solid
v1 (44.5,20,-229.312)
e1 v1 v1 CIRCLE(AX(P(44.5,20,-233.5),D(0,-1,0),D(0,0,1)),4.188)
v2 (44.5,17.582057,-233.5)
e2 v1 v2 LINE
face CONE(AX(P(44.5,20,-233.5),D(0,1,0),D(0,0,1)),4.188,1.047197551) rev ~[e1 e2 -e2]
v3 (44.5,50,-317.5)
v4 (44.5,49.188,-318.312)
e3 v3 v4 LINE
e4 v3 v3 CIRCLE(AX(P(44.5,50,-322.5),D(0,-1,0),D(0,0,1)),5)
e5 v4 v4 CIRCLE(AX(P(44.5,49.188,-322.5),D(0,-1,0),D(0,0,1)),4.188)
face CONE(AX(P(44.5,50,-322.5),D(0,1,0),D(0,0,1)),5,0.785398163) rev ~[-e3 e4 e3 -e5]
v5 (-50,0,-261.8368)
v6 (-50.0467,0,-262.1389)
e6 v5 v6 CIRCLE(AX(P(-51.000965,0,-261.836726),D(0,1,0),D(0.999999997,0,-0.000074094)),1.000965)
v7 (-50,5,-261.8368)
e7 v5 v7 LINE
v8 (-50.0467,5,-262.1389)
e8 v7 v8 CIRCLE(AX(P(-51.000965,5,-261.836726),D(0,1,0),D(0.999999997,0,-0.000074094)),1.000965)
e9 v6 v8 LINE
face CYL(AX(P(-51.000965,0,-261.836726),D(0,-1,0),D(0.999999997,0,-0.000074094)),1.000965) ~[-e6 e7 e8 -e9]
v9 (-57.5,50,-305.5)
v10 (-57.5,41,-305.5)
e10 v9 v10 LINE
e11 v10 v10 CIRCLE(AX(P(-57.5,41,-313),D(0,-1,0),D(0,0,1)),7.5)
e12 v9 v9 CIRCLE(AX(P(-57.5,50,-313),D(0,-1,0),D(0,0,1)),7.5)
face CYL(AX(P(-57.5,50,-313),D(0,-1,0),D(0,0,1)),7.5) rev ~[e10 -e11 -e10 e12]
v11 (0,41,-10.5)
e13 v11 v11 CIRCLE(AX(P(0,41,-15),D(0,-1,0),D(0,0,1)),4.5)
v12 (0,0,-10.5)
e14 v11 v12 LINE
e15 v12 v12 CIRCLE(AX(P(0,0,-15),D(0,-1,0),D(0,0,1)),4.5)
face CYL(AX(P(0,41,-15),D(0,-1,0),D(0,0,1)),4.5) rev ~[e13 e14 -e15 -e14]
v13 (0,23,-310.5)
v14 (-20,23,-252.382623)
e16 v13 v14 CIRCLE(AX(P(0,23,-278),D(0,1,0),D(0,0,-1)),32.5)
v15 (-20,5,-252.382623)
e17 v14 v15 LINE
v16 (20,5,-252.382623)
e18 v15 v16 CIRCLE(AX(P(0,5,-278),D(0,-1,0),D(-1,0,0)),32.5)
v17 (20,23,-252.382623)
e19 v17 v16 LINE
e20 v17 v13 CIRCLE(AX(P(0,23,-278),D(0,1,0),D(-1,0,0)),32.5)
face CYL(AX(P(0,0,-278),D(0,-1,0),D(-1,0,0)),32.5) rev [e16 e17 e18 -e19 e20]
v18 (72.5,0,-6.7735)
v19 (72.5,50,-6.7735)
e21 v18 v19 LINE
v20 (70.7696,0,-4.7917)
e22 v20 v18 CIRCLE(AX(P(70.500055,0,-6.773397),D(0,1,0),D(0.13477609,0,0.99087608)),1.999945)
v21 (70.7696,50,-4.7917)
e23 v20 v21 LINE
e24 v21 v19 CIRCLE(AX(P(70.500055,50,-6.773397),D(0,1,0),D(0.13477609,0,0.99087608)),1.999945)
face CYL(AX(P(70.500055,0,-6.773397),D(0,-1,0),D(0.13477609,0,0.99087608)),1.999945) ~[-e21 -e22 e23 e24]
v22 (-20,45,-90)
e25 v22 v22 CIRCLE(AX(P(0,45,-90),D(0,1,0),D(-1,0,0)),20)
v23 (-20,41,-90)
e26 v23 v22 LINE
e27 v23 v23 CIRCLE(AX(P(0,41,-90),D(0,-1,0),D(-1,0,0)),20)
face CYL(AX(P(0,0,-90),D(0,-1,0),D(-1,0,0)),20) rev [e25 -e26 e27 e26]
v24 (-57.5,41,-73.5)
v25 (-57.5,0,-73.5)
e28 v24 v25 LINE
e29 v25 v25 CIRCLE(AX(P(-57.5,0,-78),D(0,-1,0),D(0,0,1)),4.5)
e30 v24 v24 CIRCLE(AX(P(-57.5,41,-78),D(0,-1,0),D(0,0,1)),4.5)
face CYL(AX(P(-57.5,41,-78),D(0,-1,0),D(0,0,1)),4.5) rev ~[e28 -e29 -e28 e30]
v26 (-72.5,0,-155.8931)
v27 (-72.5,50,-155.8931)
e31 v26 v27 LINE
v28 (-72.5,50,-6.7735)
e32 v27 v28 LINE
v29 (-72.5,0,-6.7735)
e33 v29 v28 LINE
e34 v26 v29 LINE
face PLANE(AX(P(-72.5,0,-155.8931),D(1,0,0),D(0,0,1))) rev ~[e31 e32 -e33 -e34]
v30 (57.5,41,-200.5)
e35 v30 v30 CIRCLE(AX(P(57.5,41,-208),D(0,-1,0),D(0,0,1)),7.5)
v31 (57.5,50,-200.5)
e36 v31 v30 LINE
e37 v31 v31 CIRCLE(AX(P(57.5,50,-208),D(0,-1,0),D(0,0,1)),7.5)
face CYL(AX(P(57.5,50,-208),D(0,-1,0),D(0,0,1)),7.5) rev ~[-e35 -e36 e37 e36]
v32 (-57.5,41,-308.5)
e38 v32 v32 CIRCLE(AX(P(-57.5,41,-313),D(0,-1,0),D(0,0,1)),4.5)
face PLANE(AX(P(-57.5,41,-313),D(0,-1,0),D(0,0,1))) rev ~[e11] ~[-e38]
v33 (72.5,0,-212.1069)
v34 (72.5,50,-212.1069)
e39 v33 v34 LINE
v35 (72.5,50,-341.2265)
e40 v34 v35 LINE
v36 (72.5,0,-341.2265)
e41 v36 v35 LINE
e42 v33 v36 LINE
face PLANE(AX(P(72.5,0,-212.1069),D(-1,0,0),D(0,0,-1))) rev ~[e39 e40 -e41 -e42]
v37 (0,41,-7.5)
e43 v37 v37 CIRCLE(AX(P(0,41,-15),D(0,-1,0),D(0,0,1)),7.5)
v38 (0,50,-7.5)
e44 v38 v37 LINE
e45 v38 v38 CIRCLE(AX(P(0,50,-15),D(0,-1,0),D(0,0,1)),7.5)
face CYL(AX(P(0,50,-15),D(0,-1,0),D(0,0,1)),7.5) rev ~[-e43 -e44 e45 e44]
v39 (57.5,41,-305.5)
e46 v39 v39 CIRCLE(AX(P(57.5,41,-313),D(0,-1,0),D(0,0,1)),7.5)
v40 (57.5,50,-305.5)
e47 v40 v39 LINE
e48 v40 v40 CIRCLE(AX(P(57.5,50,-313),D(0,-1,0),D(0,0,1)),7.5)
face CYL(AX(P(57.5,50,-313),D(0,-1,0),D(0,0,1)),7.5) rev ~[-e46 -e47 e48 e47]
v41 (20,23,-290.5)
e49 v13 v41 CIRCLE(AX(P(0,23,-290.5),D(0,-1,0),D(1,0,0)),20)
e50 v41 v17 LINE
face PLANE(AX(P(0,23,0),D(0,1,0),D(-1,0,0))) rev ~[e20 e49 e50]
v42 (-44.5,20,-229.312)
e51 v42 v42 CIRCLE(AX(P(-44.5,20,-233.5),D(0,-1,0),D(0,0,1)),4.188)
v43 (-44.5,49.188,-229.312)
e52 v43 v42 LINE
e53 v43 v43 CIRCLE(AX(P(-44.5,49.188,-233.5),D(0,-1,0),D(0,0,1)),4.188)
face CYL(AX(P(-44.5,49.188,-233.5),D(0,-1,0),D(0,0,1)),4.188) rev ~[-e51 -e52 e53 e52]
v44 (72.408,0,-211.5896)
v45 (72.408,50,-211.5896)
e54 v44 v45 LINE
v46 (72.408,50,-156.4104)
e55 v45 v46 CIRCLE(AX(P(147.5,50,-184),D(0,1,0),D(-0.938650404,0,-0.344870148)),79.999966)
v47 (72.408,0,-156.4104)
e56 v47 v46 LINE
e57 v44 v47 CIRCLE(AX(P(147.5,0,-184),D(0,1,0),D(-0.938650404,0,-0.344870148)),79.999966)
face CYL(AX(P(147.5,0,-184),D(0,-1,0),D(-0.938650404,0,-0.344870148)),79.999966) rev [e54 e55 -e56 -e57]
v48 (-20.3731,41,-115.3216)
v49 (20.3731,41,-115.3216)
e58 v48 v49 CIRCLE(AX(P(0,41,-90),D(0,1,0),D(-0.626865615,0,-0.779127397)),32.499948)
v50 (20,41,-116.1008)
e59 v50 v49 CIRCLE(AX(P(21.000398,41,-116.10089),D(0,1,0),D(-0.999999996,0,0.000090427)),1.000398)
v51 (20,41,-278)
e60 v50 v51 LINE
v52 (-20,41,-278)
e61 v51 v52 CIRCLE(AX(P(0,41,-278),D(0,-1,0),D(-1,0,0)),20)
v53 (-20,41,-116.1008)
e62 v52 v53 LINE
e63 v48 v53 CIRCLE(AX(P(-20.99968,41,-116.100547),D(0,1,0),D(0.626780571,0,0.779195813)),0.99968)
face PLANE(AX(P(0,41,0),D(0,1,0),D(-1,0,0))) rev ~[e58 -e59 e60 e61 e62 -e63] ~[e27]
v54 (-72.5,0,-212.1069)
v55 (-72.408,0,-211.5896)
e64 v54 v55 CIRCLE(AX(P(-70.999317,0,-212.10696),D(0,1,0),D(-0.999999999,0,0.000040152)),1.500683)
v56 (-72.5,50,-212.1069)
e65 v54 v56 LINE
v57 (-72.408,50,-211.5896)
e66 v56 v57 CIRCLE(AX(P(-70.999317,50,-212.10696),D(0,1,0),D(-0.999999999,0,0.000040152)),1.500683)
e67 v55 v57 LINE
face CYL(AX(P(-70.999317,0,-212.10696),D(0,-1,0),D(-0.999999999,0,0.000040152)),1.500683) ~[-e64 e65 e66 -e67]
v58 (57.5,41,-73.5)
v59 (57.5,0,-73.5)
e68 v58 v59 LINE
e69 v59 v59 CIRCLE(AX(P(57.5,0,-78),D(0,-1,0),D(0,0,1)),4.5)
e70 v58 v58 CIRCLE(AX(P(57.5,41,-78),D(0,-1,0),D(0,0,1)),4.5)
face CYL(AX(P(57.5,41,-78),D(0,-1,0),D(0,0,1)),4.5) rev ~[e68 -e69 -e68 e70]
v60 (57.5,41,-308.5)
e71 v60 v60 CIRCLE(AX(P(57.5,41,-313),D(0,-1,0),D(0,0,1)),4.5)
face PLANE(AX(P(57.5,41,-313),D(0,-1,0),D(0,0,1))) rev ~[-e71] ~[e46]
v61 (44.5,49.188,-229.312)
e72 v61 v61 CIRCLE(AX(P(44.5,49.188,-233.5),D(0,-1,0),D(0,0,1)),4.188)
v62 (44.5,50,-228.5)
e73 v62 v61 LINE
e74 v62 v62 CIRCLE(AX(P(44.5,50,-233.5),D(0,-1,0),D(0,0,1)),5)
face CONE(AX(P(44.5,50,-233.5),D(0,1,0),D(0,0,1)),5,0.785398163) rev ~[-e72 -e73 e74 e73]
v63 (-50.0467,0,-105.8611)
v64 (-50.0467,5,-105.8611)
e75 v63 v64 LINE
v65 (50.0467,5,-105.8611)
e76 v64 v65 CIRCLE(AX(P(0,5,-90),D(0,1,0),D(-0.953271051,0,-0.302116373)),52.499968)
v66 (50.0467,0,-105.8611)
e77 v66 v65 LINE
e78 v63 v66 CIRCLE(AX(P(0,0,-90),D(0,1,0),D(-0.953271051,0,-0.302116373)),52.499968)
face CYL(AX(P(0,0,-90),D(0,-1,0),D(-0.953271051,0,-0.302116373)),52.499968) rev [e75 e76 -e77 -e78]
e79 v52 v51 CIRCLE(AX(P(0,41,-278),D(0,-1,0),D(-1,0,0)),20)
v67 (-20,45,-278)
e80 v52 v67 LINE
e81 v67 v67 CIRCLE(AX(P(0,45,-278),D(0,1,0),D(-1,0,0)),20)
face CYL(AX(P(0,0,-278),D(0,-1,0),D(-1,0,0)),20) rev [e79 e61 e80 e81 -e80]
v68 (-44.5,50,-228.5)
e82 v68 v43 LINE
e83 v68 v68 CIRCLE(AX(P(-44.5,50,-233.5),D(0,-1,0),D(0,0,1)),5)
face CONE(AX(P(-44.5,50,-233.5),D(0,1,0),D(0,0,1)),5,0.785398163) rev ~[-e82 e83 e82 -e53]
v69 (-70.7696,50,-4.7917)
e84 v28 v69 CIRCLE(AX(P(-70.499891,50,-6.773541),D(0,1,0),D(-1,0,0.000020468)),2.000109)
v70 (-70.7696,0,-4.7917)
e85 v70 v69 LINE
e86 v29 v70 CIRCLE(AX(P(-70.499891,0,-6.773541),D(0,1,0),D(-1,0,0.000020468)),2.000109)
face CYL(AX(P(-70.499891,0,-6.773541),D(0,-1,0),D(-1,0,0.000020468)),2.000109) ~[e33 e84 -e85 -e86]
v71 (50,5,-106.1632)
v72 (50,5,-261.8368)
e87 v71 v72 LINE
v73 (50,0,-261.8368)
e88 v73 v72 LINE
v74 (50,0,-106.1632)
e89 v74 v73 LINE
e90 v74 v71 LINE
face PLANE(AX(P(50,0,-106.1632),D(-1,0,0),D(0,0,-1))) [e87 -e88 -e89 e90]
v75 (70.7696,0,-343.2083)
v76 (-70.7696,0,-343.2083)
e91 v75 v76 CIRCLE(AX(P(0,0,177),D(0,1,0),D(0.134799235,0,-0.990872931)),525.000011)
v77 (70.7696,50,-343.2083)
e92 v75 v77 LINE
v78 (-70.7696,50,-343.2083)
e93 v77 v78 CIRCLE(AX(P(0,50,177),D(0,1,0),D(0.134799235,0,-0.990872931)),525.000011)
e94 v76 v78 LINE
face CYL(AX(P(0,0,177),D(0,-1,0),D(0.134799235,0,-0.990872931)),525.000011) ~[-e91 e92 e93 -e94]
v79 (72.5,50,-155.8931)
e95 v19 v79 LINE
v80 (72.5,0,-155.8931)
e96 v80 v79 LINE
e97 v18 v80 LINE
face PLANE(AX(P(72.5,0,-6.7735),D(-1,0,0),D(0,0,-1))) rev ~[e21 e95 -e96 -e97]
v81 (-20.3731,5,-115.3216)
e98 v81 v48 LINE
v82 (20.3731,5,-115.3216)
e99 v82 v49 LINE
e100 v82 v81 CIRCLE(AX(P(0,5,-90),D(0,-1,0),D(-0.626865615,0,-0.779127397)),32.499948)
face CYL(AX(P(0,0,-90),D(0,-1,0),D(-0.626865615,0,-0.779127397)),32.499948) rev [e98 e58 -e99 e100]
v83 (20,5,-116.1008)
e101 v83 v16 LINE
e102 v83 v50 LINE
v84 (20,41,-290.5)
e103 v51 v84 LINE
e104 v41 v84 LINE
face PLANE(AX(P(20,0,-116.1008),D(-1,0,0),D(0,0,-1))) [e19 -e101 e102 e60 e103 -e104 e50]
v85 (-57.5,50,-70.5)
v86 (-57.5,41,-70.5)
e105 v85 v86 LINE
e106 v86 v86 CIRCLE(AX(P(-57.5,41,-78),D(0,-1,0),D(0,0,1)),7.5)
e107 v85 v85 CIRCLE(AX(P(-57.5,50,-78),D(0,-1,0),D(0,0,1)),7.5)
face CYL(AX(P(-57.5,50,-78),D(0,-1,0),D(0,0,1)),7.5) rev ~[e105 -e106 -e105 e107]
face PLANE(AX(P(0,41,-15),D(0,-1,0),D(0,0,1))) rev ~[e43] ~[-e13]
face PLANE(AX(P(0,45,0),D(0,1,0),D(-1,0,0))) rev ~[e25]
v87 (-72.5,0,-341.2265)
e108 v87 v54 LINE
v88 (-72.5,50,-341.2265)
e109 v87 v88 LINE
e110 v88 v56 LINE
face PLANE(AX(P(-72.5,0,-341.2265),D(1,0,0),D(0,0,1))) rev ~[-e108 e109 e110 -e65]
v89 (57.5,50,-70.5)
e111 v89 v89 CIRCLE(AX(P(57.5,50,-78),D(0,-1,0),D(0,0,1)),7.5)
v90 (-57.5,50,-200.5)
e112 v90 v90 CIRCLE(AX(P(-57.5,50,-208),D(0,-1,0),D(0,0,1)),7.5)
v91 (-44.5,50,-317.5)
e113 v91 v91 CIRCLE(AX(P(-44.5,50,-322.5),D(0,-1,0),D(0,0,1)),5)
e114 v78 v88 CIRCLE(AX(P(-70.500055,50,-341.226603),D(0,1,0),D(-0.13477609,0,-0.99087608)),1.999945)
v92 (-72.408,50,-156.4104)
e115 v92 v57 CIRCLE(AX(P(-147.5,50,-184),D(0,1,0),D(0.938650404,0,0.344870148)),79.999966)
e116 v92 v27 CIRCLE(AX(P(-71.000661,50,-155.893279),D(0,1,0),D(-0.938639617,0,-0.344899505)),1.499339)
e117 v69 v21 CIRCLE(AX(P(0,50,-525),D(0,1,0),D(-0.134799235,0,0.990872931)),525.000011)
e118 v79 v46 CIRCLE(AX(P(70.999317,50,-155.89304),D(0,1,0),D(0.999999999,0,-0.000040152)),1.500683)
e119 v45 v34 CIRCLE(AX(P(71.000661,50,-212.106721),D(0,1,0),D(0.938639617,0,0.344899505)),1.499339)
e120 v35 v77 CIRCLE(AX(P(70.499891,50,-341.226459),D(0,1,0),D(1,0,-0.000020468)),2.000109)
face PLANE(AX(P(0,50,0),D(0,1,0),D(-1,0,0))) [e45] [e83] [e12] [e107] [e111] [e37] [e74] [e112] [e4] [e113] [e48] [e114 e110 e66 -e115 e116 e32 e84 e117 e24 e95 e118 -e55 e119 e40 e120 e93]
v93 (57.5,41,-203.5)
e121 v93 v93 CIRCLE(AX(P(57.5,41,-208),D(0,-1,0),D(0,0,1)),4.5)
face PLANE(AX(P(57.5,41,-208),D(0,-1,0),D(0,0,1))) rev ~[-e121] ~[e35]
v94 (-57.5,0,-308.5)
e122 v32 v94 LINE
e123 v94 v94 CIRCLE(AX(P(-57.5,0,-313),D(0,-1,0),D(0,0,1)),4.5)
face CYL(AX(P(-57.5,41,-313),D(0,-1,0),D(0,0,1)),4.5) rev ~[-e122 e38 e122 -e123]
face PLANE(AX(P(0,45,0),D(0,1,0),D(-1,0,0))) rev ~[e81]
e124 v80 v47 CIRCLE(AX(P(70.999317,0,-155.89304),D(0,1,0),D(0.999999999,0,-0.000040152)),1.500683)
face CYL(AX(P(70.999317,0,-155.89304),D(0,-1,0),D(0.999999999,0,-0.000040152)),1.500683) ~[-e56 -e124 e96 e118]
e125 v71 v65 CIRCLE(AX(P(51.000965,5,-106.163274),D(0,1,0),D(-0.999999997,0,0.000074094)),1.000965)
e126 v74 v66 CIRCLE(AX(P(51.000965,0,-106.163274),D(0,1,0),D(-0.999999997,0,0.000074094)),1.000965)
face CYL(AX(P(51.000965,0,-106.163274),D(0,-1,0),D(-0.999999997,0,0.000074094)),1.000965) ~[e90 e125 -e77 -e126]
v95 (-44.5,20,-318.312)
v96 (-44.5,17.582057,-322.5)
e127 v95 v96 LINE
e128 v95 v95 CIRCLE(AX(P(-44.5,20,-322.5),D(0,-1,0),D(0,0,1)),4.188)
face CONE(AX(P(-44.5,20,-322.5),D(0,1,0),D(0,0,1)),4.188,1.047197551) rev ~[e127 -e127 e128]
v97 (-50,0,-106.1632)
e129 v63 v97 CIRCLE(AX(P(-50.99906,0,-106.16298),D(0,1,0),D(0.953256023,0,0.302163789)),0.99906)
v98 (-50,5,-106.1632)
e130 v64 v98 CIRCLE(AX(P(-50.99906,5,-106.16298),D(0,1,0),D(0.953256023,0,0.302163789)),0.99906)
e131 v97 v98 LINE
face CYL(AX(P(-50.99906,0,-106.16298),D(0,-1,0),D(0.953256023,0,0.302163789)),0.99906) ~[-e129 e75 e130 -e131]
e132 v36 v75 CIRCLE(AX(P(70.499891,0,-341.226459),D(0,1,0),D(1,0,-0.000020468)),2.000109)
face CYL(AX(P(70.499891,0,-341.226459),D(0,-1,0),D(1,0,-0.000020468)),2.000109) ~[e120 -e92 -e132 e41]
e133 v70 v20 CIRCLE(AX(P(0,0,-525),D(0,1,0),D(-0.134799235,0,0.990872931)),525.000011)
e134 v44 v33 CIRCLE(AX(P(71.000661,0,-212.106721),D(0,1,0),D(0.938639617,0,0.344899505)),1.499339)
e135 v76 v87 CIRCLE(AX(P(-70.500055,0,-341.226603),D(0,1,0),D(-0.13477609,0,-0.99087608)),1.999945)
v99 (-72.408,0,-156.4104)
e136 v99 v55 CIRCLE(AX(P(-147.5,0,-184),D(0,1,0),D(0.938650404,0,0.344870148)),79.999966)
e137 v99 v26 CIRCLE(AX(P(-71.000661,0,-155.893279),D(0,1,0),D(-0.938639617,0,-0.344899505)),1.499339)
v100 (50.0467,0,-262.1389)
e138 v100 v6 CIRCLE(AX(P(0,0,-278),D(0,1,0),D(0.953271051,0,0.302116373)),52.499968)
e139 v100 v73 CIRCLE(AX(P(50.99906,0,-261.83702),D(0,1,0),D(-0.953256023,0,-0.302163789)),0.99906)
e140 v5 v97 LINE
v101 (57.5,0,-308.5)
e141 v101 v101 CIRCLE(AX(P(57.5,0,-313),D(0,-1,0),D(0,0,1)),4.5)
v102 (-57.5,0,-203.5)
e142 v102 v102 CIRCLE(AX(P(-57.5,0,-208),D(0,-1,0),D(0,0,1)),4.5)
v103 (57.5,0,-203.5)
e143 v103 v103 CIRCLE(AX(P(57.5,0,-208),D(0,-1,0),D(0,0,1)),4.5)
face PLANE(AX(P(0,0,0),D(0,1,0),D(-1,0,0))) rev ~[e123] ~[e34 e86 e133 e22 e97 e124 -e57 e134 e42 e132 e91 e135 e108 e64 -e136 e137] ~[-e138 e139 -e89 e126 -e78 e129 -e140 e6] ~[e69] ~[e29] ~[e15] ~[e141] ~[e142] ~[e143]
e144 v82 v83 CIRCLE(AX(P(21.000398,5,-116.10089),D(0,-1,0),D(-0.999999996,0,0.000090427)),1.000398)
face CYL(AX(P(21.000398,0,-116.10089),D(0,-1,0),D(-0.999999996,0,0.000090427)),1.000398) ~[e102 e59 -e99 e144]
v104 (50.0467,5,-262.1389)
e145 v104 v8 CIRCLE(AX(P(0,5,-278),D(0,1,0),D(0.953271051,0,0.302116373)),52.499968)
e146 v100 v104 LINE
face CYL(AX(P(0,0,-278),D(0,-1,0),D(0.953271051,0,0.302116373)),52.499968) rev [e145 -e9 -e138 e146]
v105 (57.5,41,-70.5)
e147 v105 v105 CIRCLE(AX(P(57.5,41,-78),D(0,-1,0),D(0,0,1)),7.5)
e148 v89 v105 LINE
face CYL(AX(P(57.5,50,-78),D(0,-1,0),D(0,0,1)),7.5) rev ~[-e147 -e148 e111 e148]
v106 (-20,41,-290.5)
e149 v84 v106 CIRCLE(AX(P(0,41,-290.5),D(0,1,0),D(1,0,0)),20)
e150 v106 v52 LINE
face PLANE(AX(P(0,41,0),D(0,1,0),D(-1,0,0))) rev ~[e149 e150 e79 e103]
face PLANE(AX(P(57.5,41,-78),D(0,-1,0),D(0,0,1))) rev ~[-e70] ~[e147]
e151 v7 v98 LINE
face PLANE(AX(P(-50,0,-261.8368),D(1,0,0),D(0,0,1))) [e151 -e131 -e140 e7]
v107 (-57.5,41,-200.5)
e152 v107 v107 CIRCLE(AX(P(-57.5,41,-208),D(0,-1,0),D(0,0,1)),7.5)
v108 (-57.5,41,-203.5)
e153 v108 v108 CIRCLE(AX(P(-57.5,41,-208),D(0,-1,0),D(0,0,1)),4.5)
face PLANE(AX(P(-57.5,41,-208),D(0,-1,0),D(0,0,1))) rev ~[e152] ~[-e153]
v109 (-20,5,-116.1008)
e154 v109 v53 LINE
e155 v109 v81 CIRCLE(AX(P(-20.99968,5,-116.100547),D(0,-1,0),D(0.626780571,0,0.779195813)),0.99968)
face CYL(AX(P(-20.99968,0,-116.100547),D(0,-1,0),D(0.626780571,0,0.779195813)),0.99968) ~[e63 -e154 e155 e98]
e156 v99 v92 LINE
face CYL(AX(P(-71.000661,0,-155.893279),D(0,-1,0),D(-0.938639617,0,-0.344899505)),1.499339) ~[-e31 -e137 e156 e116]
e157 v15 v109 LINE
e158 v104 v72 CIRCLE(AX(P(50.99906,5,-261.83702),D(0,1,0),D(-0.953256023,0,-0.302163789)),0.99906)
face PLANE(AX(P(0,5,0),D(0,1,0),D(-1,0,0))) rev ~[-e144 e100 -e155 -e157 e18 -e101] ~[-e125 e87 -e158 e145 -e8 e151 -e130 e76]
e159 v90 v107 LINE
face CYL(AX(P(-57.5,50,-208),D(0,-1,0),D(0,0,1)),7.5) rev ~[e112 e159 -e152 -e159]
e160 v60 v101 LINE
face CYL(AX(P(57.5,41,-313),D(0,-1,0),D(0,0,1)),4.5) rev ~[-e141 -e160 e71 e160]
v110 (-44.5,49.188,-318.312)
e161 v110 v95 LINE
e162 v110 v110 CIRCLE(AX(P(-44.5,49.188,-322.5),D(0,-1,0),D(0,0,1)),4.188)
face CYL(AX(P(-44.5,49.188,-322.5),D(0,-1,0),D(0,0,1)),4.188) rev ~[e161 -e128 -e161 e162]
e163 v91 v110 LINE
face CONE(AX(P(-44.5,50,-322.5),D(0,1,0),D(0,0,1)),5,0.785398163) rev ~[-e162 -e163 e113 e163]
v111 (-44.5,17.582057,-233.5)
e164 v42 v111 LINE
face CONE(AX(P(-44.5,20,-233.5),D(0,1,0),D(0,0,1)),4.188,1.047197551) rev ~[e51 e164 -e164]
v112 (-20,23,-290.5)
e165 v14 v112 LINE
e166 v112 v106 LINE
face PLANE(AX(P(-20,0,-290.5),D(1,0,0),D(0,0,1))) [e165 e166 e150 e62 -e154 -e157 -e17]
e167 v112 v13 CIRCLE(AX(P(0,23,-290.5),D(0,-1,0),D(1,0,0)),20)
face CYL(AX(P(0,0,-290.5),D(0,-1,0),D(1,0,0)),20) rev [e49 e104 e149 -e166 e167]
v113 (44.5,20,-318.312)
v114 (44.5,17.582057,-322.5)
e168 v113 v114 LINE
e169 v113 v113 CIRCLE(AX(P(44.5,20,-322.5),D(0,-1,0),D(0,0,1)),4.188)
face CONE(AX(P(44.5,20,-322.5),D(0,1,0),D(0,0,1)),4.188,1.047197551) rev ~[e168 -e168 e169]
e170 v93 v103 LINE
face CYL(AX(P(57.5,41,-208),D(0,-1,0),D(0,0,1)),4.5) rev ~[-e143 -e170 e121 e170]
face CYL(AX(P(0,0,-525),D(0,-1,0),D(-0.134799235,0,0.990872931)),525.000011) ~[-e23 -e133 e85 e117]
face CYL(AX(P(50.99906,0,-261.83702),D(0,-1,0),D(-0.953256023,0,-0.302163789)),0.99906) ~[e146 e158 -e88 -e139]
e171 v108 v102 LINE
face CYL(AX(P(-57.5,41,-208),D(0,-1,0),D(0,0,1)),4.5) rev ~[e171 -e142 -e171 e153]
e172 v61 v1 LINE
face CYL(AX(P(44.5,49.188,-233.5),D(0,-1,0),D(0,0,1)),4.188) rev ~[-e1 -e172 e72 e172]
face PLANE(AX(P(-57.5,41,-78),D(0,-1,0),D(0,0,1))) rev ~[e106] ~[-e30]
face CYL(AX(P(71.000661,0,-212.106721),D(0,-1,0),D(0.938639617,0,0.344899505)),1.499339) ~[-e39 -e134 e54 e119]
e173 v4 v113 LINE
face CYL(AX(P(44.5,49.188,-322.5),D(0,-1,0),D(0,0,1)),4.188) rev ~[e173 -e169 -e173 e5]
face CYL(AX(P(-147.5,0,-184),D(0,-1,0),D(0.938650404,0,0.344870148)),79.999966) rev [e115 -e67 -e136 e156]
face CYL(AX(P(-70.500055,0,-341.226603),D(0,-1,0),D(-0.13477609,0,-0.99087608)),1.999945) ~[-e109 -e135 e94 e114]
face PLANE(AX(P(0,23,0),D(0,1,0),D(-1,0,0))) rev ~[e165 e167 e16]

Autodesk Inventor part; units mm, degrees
sketch "Sketch_1" plane through (0, 0, 0) normal (0, 1, 0) x (-1, 0, 0)
  line L0 (72.5, -155.8931) -> (72.5, -6.7735)
  arc A0 (72.5, -6.7735) -> (70.7696, -4.7917) centre (70.5, -6.7735) ccw
  arc A1 (70.7696, -4.7917) -> (-70.7696, -4.7917) centre (0, -525) ccw
  arc A2 (-70.7696, -4.7917) -> (-72.5, -6.7735) centre (-70.5, -6.7735) ccw
  line L1 (-72.5, -6.7735) -> (-72.5, -155.8931)
  arc A3 (-72.5, -155.8931) -> (-72.408, -156.4104) centre (-71, -155.8931) ccw
  arc A4 (-72.408, -211.5896) -> (-72.408, -156.4104) centre (-147.5, -184) ccw
  arc A5 (-72.408, -211.5896) -> (-72.5, -212.1069) centre (-71, -212.1069) ccw
  line L2 (-72.5, -212.1069) -> (-72.5, -341.2265)
  arc A6 (-72.5, -341.2265) -> (-70.7696, -343.2083) centre (-70.5, -341.2265) ccw
  arc A7 (-70.7696, -343.2083) -> (70.7696, -343.2083) centre (0, 177) ccw
  arc A8 (70.7696, -343.2083) -> (72.5, -341.2265) centre (70.5, -341.2265) ccw
  line L3 (72.5, -341.2265) -> (72.5, -212.1069)
  arc A9 (72.5, -212.1069) -> (72.408, -211.5896) centre (71, -212.1069) ccw
  arc A10 (72.408, -156.4104) -> (72.408, -211.5896) centre (147.5, -184) ccw
  arc A11 (72.408, -156.4104) -> (72.5, -155.8931) centre (71, -155.8931) ccw
extrude "Extrusion1" add sketch "Sketch_1" along normal blind 50
sketch "Sketch_12" plane through (0, 0, 0) normal (0, 1, 0) x (-1, 0, 0)
  arc A0 (20.3731, -115.3216) -> (-20.3731, -115.3216) centre (0, -90) ccw
  arc A1 (-20, -116.1008) -> (-20.3731, -115.3216) centre (-21, -116.1008) ccw
  line L0 (-20, -116.1008) -> (-20, -290.5)
  arc A2 (-20, -290.5) -> (20, -290.5) centre (0, -290.5) ccw
  line L1 (20, -290.5) -> (20, -116.1008)
  arc A3 (20.3731, -115.3216) -> (20, -116.1008) centre (21, -116.1008) ccw
extrude "Extrusion2" cut sketch "Sketch_12" along normal blind 41
sketch "Sketch_2" plane through (0, 0, 0) normal (0, 1, 0) x (-1, 0, 0)
  circle A0 centre (0, -278) radius 32.5
extrude "Extrusion3" cut sketch "Sketch_2" along normal blind 23
sketch "Sketch_3" plane through (0, 0, 0) normal (0, 1, 0) x (-1, 0, 0)
  circle A0 centre (0, -278) radius 20
extrude "Extrusion4" cut sketch "Sketch_3" along normal blind 45
sketch "Sketch_4" plane through (0, 0, 0) normal (0, 1, 0) x (-1, 0, 0)
  circle A0 centre (0, -90) radius 20
extrude "Extrusion5" cut sketch "Sketch_4" along normal blind 45
sketch "Sketch_21" plane through (0, 0, 0) normal (0, 1, 0) x (-1, 0, 0)
  arc A0 (50.0467, -105.8611) -> (-50.0467, -105.8611) centre (0, -90) ccw
  arc A1 (-50, -106.1632) -> (-50.0467, -105.8611) centre (-51, -106.1632) ccw
  line L0 (-50, -106.1632) -> (-50, -261.8368)
  arc A2 (-50.0467, -262.1389) -> (-50, -261.8368) centre (-51, -261.8368) ccw
  arc A3 (-50.0467, -262.1389) -> (50.0467, -262.1389) centre (0, -278) ccw
  arc A4 (50, -261.8368) -> (50.0467, -262.1389) centre (51, -261.8368) ccw
  line L1 (50, -261.8368) -> (50, -106.1632)
  arc A5 (50.0467, -105.8611) -> (50, -106.1632) centre (51, -106.1632) ccw
extrude "Extrusion6" cut sketch "Sketch_21" along normal blind 5
sketch "Sketch7" plane through (0, 50, 0) normal (0, 1, 0) x (1, 0, 0)
  point P0 (0, 15)
hole "Hole1" at (0, 50, -15) direction (0, -1, 0) diameter 9 depth 50 counterbore diameter 15 counterbore depth 9
sketch "Sketch8" plane through (0, 50, 0) normal (0, 1, 0) x (1, 0, 0)
  point P0 (57.5, 208)
hole "Hole2" at (57.5, 50, -208) direction (0, -1, 0) diameter 9 depth 50 counterbore diameter 15 counterbore depth 9
sketch "Sketch9" plane through (0, 50, 0) normal (0, 1, 0) x (1, 0, 0)
  point P0 (57.5, 313)
hole "Hole3" at (57.5, 50, -313) direction (0, -1, 0) diameter 9 depth 50 counterbore diameter 15 counterbore depth 9
sketch "Sketch10" plane through (0, 50, 0) normal (0, 1, 0) x (1, 0, 0)
  point P0 (57.5, 78)
hole "Hole4" at (57.5, 50, -78) direction (0, -1, 0) diameter 9 depth 50 counterbore diameter 15 counterbore depth 9
sketch "Sketch11" plane through (0, 50, 0) normal (0, 1, 0) x (1, 0, 0)
  point P0 (-57.5, 208)
hole "Hole5" at (-57.5, 50, -208) direction (0, -1, 0) diameter 9 depth 50 counterbore diameter 15 counterbore depth 9
sketch "Sketch12" plane through (0, 50, 0) normal (0, 1, 0) x (1, 0, 0)
  point P0 (-57.5, 313)
hole "Hole6" at (-57.5, 50, -313) direction (0, -1, 0) diameter 9 depth 50 counterbore diameter 15 counterbore depth 9
sketch "Sketch13" plane through (0, 50, 0) normal (0, 1, 0) x (1, 0, 0)
  point P0 (-57.5, 78)
hole "Hole7" at (-57.5, 50, -78) direction (0, -1, 0) diameter 9 depth 50 counterbore diameter 15 counterbore depth 9
sketch "Sketch14" plane through (0, 50, 0) normal (0, 1, 0) x (1, 0, 0)
  point P0 (44.5, 322.5)
hole "Hole8" at (44.5, 50, -322.5) direction (0, -1, 0) diameter 8.376 depth 30 tip angle 120 countersink diameter 10 countersink angle 90 thread size "M10x1.5" class "6H" standard "ISO Metric profile"
sketch "Sketch15" plane through (0, 50, 0) normal (0, 1, 0) x (1, 0, 0)
  point P0 (-44.5, 322.5)
hole "Hole9" at (-44.5, 50, -322.5) direction (0, -1, 0) diameter 8.376 depth 30 tip angle 120 countersink diameter 10 countersink angle 90 thread size "M10x1.5" class "6H" standard "ISO Metric profile"
sketch "Sketch16" plane through (0, 50, 0) normal (0, 1, 0) x (1, 0, 0)
  point P0 (44.5, 233.5)
hole "Hole10" at (44.5, 50, -233.5) direction (0, -1, 0) diameter 8.376 depth 30 tip angle 120 countersink diameter 10 countersink angle 90 thread size "M10x1.5" class "6H" standard "ISO Metric profile"
sketch "Sketch17" plane through (0, 50, 0) normal (0, 1, 0) x (1, 0, 0)
  point P0 (-44.5, 233.5)
hole "Hole11" at (-44.5, 50, -233.5) direction (0, -1, 0) diameter 8.376 depth 30 tip angle 120 countersink diameter 10 countersink angle 90 thread size "M10x1.5" class "6H" standard "ISO Metric profile"
ref_plane "ANBAU_XY" through (0, 0, -278) normal (0, 1, 0) x (1, 0, 0)
ref_plane "ANBAU_YZ" through (0, 0, -278) normal (1, 0, 0) x (0, 0, -1)
ref_plane "ANBAU_ZX" through (0, 0, -278) normal (0, 0, -1) x (0, 1, 0)
ref_plane "S1_1_XY" through (57.5, 41, -313) normal (0, 1, 0) x (1, 0, 0)
ref_plane "S1_1_YZ" through (57.5, 41, -313) normal (1, 0, 0) x (0, 0, -1)
ref_plane "S1_1_ZX" through (57.5, 41, -313) normal (0, 0, -1) x (0, 1, 0)
ref_plane "S1_2_XY" through (57.5, 41, -208) normal (0, 1, 0) x (1, 0, 0)
ref_plane "S1_2_YZ" through (57.5, 41, -208) normal (1, 0, 0) x (0, 0, -1)
ref_plane "S1_2_ZX" through (57.5, 41, -208) normal (0, 0, -1) x (0, 1, 0)
ref_plane "S1_3_XY" through (57.5, 41, -78) normal (0, 1, 0) x (1, 0, 0)
ref_plane "S1_3_YZ" through (57.5, 41, -78) normal (1, 0, 0) x (0, 0, -1)
ref_plane "S1_3_ZX" through (57.5, 41, -78) normal (0, 0, -1) x (0, 1, 0)
ref_plane "S2_1_XY" through (-57.5, 41, -313) normal (0, 1, 0) x (1, 0, 0)
ref_plane "S2_1_YZ" through (-57.5, 41, -313) normal (1, 0, 0) x (0, 0, -1)
ref_plane "S2_1_ZX" through (-57.5, 41, -313) normal (0, 0, -1) x (0, 1, 0)
ref_plane "S2_2_XY" through (-57.5, 41, -208) normal (0, 1, 0) x (1, 0, 0)
ref_plane "S2_2_YZ" through (-57.5, 41, -208) normal (1, 0, 0) x (0, 0, -1)
ref_plane "S2_2_ZX" through (-57.5, 41, -208) normal (0, 0, -1) x (0, 1, 0)
ref_plane "S2_3_XY" through (-57.5, 41, -78) normal (0, 1, 0) x (1, 0, 0)
ref_plane "S2_3_YZ" through (-57.5, 41, -78) normal (1, 0, 0) x (0, 0, -1)
ref_plane "S2_3_ZX" through (-57.5, 41, -78) normal (0, 0, -1) x (0, 1, 0)
ref_plane "S3_XY" through (0, 41, -15) normal (0, 1, 0) x (1, 0, 0)
ref_plane "S3_YZ" through (0, 41, -15) normal (1, 0, 0) x (0, 0, -1)
ref_plane "S3_ZX" through (0, 41, -15) normal (0, 0, -1) x (0, 1, 0)
properties part number "1464690 EAMM-U-145-D100-...-348S---(OT)"
